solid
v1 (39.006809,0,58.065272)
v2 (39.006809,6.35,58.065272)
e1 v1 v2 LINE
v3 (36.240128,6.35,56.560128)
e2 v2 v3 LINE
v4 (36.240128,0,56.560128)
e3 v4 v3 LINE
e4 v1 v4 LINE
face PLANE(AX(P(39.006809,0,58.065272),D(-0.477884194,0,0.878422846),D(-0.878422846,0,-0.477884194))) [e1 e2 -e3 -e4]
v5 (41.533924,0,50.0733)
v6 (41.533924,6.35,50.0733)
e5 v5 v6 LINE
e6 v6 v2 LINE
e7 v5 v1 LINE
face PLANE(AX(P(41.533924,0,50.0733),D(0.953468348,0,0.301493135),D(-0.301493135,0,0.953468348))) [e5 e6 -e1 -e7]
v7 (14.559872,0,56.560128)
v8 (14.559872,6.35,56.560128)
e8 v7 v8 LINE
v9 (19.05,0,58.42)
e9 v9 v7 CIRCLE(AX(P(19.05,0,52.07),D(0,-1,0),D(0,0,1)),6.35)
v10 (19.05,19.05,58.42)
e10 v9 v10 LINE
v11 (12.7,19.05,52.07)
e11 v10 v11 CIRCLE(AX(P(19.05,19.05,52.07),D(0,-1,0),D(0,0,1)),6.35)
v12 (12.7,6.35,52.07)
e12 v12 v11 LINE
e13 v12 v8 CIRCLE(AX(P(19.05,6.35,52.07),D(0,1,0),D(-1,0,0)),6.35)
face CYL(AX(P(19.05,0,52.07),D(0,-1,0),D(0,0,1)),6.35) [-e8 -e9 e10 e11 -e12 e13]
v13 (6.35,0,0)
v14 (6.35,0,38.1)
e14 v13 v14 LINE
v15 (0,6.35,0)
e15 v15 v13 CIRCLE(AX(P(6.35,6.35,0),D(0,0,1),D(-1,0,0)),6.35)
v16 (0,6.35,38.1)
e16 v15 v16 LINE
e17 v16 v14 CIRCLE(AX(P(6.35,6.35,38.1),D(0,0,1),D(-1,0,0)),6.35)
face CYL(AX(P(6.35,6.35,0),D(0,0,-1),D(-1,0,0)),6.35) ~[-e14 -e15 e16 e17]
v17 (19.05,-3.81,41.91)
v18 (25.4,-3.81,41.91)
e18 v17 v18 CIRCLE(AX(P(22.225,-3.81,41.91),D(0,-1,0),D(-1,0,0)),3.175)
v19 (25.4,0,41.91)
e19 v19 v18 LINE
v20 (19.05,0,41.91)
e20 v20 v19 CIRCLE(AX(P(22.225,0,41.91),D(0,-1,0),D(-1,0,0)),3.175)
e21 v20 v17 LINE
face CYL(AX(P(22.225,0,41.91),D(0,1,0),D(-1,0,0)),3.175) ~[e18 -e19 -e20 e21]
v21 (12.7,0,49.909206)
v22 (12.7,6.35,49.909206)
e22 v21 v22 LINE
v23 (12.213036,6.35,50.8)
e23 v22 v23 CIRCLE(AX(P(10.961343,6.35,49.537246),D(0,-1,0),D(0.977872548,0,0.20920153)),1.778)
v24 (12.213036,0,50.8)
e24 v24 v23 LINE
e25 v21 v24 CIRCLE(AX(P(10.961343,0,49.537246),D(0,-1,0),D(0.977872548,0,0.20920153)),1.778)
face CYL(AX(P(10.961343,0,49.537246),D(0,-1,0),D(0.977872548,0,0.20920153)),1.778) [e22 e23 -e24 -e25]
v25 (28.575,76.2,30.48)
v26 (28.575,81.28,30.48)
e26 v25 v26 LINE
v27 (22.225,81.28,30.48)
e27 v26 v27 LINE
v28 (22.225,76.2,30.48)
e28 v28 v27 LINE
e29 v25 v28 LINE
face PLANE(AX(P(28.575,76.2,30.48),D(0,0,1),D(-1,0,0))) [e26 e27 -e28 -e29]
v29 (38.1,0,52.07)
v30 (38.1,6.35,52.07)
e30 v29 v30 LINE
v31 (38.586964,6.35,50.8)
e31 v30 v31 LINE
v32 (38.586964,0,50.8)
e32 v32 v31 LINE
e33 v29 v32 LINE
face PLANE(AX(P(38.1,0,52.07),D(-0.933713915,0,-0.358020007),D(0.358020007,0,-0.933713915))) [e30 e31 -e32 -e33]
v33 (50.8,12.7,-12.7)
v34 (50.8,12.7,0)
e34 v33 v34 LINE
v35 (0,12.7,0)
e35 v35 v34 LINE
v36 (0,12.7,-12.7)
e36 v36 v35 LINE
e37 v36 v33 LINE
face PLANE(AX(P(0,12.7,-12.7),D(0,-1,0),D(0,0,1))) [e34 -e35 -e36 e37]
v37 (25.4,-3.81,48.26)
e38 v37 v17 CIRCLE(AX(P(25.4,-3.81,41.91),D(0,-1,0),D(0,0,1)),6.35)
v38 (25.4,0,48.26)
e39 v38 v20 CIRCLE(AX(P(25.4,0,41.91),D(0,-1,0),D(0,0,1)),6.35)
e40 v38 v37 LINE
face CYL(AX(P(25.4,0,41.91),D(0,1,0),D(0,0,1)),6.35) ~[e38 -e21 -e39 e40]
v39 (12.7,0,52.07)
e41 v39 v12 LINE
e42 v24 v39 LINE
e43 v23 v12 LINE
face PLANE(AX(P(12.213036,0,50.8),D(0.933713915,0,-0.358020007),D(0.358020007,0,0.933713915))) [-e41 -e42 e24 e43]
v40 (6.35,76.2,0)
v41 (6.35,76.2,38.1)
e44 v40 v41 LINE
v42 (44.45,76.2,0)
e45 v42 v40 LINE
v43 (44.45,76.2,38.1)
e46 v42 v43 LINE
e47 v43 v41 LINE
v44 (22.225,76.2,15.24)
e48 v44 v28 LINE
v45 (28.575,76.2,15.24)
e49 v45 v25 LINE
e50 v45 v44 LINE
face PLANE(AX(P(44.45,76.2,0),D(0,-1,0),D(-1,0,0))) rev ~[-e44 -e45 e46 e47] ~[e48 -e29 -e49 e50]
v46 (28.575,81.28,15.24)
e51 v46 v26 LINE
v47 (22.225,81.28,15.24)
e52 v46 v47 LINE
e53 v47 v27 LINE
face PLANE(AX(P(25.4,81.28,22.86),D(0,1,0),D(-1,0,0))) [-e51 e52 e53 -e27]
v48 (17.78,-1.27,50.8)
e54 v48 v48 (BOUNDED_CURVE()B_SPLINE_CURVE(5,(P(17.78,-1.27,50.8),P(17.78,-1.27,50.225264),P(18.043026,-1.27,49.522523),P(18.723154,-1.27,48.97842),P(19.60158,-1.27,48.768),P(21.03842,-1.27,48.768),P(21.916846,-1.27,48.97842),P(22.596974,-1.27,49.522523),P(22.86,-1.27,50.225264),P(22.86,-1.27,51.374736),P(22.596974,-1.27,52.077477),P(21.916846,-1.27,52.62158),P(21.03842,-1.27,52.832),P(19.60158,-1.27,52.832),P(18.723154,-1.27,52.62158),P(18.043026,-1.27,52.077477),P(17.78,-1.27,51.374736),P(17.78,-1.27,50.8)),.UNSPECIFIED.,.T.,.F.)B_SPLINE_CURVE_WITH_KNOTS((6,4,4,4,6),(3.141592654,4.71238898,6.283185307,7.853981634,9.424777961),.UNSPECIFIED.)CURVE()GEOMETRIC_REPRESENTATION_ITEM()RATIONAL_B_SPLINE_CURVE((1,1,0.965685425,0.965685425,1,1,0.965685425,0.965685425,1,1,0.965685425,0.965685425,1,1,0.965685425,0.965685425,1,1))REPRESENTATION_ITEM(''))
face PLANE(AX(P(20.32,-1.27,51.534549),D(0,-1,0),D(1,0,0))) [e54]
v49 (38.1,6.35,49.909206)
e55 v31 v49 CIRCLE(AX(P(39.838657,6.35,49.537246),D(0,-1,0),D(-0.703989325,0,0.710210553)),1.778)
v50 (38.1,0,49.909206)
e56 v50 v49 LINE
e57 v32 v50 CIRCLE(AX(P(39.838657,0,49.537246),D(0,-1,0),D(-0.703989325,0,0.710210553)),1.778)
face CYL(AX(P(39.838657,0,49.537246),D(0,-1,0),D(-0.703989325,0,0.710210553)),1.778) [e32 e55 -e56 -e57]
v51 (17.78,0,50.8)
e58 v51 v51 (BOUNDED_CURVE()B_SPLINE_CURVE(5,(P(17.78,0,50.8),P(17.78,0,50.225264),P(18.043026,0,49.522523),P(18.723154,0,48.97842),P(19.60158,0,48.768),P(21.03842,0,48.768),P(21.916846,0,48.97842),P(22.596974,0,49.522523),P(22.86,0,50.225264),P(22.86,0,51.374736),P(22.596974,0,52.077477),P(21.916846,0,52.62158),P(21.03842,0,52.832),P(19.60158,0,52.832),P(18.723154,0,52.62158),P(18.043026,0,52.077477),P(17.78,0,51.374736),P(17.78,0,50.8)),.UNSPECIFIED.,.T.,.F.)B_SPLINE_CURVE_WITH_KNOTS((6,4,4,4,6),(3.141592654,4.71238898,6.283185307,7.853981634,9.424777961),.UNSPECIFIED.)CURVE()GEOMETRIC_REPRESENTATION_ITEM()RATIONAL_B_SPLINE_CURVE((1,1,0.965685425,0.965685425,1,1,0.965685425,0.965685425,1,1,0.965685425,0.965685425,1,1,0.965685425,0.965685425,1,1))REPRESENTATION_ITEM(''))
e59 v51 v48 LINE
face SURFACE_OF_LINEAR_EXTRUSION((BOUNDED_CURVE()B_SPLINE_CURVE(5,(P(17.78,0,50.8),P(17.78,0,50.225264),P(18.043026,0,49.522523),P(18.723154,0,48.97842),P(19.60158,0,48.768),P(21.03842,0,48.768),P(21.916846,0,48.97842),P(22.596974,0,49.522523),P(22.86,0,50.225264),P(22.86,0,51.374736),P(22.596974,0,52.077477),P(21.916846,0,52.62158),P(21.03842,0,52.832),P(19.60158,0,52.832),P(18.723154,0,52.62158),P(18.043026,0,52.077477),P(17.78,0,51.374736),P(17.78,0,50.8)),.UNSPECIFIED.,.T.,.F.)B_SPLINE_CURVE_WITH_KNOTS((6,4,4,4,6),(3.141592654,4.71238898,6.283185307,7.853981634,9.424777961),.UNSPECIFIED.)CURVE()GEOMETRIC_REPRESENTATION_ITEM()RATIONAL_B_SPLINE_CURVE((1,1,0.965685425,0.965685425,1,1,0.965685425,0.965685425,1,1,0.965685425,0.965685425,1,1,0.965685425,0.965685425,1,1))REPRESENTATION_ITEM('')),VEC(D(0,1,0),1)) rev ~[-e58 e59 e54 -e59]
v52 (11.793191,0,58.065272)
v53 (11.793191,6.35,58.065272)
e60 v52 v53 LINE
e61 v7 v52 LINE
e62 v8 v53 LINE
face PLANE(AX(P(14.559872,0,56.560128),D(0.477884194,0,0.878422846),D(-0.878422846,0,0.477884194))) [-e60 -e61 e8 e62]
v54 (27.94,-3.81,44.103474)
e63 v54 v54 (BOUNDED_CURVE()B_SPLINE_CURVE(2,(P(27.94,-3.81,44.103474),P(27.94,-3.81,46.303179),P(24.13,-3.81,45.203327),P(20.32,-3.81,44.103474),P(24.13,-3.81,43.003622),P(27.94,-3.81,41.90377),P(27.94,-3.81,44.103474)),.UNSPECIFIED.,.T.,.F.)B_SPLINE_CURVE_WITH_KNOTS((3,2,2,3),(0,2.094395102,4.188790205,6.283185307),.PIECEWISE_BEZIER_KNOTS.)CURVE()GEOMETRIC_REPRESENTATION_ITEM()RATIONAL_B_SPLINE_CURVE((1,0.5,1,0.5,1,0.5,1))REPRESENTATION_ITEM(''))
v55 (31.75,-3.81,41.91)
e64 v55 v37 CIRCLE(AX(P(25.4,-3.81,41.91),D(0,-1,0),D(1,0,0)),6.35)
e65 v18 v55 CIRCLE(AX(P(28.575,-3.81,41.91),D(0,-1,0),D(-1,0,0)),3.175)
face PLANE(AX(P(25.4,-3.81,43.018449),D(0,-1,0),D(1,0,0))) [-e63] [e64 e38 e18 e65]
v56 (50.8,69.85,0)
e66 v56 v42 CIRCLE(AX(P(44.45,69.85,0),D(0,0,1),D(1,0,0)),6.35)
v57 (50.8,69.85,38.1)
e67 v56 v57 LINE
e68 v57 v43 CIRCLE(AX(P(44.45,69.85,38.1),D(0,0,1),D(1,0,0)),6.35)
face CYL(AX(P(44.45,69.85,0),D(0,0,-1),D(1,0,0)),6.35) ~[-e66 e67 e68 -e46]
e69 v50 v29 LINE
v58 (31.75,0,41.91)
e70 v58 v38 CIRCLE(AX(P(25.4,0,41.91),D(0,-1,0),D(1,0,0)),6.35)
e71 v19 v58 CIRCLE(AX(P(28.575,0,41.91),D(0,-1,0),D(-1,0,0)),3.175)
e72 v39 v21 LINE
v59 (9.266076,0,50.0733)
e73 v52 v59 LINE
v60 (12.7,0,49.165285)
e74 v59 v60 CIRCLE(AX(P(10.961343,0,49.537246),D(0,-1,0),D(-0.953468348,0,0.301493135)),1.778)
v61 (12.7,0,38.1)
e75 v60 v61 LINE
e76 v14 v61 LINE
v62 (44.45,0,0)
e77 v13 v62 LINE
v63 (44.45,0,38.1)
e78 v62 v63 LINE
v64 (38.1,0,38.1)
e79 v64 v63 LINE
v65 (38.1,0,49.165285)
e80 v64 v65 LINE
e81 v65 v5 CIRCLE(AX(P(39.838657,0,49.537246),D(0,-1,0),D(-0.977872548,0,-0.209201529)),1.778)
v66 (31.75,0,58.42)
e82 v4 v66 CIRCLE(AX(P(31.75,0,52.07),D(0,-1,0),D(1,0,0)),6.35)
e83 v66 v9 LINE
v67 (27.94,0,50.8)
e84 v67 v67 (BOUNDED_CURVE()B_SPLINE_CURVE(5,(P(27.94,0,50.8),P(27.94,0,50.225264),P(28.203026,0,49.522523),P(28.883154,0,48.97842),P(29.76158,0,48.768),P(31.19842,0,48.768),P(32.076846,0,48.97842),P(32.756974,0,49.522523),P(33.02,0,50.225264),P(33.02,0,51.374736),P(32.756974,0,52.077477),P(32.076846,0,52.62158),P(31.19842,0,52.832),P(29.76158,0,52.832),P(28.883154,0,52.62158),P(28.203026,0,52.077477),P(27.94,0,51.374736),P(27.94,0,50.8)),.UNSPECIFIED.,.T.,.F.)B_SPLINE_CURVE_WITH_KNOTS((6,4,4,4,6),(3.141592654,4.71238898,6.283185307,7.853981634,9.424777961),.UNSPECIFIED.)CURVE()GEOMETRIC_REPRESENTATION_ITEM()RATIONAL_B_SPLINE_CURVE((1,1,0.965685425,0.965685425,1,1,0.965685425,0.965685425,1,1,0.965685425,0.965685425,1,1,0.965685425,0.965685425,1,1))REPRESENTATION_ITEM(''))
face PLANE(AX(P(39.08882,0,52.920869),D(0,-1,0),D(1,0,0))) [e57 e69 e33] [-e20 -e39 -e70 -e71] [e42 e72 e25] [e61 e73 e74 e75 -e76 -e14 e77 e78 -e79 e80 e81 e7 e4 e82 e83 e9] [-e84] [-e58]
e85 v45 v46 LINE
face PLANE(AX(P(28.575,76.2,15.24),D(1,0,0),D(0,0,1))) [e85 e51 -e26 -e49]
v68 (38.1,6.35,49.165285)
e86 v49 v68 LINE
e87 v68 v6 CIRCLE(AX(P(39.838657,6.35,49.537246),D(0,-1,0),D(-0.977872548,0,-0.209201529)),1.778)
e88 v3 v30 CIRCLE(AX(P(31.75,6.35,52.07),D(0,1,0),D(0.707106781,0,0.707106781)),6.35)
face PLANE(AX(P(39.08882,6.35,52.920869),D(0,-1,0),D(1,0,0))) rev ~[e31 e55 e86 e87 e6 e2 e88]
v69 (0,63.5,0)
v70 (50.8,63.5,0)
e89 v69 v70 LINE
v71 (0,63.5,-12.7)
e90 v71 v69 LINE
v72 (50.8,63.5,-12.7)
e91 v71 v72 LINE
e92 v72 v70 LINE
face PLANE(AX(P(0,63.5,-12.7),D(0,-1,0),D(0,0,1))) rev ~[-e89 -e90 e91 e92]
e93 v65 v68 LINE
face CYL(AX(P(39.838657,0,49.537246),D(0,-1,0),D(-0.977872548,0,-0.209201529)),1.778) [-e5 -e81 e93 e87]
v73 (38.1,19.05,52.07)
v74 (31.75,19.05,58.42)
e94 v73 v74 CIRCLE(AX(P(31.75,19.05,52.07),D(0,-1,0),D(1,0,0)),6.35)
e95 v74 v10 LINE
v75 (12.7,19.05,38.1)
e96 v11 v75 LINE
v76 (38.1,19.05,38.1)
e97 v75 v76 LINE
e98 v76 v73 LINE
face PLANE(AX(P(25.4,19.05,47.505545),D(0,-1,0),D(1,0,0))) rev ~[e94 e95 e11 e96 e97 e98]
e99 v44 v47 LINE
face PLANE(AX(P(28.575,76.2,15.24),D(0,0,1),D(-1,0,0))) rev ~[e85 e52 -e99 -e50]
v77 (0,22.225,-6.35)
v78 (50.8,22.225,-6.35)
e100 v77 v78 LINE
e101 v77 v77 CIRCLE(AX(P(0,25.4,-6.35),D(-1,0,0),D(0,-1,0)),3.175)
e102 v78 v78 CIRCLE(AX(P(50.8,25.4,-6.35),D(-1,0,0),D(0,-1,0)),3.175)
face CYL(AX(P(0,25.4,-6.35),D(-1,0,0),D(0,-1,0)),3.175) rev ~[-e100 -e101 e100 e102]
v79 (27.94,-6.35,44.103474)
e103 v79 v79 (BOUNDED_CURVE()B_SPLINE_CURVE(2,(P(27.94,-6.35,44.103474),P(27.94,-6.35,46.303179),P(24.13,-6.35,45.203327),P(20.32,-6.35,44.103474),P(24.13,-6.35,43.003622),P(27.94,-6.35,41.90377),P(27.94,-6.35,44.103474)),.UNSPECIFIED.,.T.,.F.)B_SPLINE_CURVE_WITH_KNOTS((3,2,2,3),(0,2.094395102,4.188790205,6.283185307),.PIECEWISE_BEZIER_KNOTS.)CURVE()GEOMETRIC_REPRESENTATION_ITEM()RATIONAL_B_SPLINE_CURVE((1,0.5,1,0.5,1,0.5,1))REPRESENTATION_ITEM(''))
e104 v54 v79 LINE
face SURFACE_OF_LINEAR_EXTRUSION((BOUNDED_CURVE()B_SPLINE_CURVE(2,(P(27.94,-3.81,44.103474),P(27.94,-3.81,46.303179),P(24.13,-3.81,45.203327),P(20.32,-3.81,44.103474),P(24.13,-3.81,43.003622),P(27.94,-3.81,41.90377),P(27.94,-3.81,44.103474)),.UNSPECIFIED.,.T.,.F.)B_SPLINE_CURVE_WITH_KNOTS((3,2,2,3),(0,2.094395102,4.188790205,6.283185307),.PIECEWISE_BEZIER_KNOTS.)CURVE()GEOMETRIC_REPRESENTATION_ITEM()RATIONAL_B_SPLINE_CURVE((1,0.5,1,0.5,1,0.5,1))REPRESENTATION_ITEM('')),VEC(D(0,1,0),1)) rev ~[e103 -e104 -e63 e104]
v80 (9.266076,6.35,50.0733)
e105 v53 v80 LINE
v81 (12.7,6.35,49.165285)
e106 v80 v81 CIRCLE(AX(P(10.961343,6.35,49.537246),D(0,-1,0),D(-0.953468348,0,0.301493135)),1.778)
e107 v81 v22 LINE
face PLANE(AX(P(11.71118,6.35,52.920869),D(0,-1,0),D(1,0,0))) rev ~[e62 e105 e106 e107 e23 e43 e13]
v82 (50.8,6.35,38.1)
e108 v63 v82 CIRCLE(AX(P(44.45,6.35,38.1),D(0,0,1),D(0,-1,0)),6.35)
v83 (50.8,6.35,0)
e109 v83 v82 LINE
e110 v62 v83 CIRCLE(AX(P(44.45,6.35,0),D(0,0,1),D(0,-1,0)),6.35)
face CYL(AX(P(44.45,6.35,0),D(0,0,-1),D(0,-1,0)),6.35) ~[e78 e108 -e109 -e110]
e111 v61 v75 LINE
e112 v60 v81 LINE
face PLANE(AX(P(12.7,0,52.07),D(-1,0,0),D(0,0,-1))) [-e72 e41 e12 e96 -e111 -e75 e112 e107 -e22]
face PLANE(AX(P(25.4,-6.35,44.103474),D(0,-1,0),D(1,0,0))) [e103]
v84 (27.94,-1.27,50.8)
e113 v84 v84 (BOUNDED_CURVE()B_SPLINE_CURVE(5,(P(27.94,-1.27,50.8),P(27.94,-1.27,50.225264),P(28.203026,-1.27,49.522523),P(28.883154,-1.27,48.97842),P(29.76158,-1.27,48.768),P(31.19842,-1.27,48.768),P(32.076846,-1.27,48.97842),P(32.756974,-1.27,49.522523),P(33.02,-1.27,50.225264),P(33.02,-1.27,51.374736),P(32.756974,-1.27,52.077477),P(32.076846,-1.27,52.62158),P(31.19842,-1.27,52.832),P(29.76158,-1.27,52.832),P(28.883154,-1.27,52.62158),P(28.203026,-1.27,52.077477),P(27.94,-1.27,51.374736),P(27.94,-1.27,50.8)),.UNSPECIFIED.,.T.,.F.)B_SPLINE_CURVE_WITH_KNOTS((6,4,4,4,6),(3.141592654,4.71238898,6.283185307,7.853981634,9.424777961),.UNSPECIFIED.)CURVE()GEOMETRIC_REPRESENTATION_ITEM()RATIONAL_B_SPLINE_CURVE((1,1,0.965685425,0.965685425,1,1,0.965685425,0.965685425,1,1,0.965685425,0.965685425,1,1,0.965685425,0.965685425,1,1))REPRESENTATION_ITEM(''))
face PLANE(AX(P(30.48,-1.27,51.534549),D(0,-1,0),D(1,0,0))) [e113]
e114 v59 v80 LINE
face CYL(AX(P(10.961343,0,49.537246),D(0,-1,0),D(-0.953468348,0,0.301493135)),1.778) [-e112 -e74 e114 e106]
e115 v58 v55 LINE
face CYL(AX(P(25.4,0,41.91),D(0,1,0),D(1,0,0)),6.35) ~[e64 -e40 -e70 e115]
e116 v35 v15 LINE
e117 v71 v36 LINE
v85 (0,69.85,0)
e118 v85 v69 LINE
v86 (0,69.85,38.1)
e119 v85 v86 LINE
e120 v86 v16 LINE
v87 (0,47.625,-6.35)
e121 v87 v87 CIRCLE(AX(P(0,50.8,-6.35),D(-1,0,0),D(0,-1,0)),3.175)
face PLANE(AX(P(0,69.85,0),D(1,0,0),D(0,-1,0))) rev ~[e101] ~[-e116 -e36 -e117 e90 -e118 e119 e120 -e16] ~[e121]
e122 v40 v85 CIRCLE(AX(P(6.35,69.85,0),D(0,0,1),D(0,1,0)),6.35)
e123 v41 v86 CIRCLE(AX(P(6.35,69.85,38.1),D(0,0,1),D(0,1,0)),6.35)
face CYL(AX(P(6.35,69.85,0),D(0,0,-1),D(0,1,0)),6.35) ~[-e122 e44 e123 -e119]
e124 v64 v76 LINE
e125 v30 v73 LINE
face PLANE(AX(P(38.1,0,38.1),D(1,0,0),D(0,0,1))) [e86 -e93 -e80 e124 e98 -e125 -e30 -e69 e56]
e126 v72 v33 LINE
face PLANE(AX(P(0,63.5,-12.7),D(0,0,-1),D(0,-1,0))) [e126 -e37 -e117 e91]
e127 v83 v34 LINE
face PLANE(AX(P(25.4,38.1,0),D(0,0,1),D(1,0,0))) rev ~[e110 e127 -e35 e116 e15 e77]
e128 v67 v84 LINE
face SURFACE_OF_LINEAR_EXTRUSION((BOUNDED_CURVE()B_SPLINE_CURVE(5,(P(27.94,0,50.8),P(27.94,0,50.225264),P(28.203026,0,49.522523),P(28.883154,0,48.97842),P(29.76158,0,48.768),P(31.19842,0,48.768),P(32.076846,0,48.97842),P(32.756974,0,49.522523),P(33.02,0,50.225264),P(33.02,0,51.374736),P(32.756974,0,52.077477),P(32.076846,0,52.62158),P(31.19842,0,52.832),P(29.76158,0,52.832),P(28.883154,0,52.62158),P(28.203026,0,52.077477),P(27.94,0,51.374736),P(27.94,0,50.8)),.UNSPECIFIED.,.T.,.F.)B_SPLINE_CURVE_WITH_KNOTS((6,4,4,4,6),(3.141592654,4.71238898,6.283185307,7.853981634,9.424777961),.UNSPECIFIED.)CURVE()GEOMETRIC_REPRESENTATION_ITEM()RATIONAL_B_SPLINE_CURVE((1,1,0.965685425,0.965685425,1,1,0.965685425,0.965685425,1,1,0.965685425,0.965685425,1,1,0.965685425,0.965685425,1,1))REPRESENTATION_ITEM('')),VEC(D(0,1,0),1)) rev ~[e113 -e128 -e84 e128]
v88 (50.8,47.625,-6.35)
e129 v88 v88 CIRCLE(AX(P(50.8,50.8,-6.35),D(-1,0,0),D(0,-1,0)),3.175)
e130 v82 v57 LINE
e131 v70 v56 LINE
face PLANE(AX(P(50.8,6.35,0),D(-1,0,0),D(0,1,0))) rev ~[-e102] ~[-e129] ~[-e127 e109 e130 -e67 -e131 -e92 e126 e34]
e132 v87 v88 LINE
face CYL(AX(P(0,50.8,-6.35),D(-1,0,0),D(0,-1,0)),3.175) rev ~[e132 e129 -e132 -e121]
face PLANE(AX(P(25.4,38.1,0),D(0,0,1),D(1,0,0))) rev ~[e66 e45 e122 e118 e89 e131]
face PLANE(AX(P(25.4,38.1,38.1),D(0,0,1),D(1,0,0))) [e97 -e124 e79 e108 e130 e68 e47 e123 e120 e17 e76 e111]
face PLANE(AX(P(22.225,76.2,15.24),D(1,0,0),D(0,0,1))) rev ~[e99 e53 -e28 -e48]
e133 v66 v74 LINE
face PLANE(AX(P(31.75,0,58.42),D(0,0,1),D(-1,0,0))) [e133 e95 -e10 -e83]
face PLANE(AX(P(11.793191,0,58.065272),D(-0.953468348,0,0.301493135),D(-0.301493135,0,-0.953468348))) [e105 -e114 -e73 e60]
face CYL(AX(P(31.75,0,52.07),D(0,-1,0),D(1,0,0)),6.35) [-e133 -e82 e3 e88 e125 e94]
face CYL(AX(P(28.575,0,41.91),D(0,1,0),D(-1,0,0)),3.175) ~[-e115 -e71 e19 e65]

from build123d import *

# Parameters (mm, degrees)
F1_DEPTH  = 38.1
F3_W      = 50.8
F3_H      = 12.7
F3_R      = 3.175
F4_DEPTH  = 50.8
F6_DEPTH  = 19.05
F7_DEPTH  = 3.81
F9_DEPTH  = 2.54
F11_DEPTH = 6.35
F12_DEPTH = 1.27
F13_W     = 6.35
F13_H     = 15.24
F14_DEPTH = 5.08


with BuildPart() as f1:
    # F0 (on Top) → F1 (new body)
    with BuildSketch(Plane.XY):
        with BuildLine():
            Line((0, 69.85), (0, 6.35))
            ThreePointArc((0, 6.35), (1.8598719395, 1.8598719395), (6.35, 0))
            Line((6.35, 0), (44.45, 0))
            ThreePointArc((44.45, 0), (48.9401280605, 1.8598719395), (50.8, 6.35))
            Line((50.8, 6.35), (50.8, 69.85))
            ThreePointArc((50.8, 69.85), (48.9401280605, 74.3401280605), (44.45, 76.2))
            Line((44.45, 76.2), (6.35, 76.2))
            ThreePointArc((6.35, 76.2), (1.8598719395, 74.3401280605), (0, 69.85))
        make_face()
    extrude(amount=F1_DEPTH)

    # F3 (on face) → F4 (join, through all)
    with BuildSketch(Plane(origin=(0, 0, 0), x_dir=(0, -1, 0), z_dir=(-1, 0, 0))):
        with Locations((-38.1, -6.35)):
            Rectangle(F3_W, F3_H)
        with Locations((-50.8, -6.35)):
            Circle(F3_R, mode=Mode.SUBTRACT)
        with Locations((-25.4, -6.35)):
            Circle(F3_R, mode=Mode.SUBTRACT)
    extrude(amount=-F4_DEPTH)

    # F5 (on face) → F6 (join)
    with BuildSketch(Plane.XZ):
        with BuildLine():
            Line((12.7, 52.07), (12.7, 38.1))
            Line((12.7, 38.1), (38.1, 38.1))
            Line((38.1, 38.1), (38.1, 52.07))
            ThreePointArc((38.1, 52.07), (36.2401280605, 56.5601280605), (31.75, 58.42))
            Line((31.75, 58.42), (19.05, 58.42))
            ThreePointArc((19.05, 58.42), (14.5598719395, 56.5601280605), (12.7, 52.07))
        make_face()
        with BuildLine():
            ThreePointArc((19.05, 41.91), (20.9098719395, 46.4001280605), (25.4, 48.26))
            ThreePointArc((25.4, 48.26), (29.8901280605, 46.4001280605), (31.75, 41.91))
            ThreePointArc((31.75, 41.91), (28.575, 38.735), (25.4, 41.91))
            ThreePointArc((25.4, 41.91), (22.225, 38.735), (19.05, 41.91))
        make_face(mode=Mode.SUBTRACT)
        with BuildLine():
            ThreePointArc((31.75, 41.91), (29.8901280605, 46.4001280605), (25.4, 48.26))
            ThreePointArc((25.4, 48.26), (20.9098719395, 46.4001280605), (19.05, 41.91))
            ThreePointArc((19.05, 41.91), (22.225, 38.735), (25.4, 41.91))
            ThreePointArc((25.4, 41.91), (28.575, 38.735), (31.75, 41.91))
        make_face()
    extrude(amount=-F6_DEPTH)

    # F5 (on face) → F7 (join)
    with BuildSketch(Plane.XZ):
        with BuildLine():
            ThreePointArc((31.75, 41.91), (29.8901280605, 46.4001280605), (25.4, 48.26))
            ThreePointArc((25.4, 48.26), (20.9098719395, 46.4001280605), (19.05, 41.91))
            ThreePointArc((19.05, 41.91), (22.225, 38.735), (25.4, 41.91))
            ThreePointArc((25.4, 41.91), (28.575, 38.735), (31.75, 41.91))
        make_face()
    extrude(amount=F7_DEPTH)

    # F8 (on face) → F9 (join)
    with BuildSketch(Plane.XZ.offset(3.81)):
        with BuildLine():
            add(Edge.make_bspline(
                [(27.94, 44.1034744838), (27.94, 46.3031790094), (24.13, 45.2033267466), (20.32, 44.1034744838), (24.13, 43.003622221), (27.94, 41.9037699582), (27.94, 44.1034744838)],
                knots=[0, 0, 0, 2.0943951024, 2.0943951024, 4.1887902048, 4.1887902048, 6.2831853072, 6.2831853072, 6.2831853072], degree=2, weights=[1, 0.5, 1, 0.5, 1, 0.5, 1]))
        make_face()
    extrude(amount=F9_DEPTH)

    # F10 (on face) → F11 (join)
    with BuildSketch(Plane.XZ):
        with BuildLine():
            Line((17.78, 50.8), (22.86, 50.8))
            add(Edge.make_bspline(
                [(22.86, 50.8), (22.86, 52.832), (20.32, 52.832), (17.78, 52.832), (17.78, 50.8)],
                knots=[0, 0, 0, 1.5707963268, 1.5707963268, 3.1415926536, 3.1415926536, 3.1415926536], degree=2, weights=[1, 0.7071067812, 1, 0.7071067812, 1]))
        make_face()
        with BuildLine():
            add(Edge.make_bspline(
                [(17.78, 50.8), (17.78, 48.768), (20.32, 48.768), (22.86, 48.768), (22.86, 50.8)],
                knots=[3.1415926536, 3.1415926536, 3.1415926536, 4.7123889804, 4.7123889804, 6.2831853072, 6.2831853072, 6.2831853072], degree=2, weights=[1, 0.7071067812, 1, 0.7071067812, 1]))
            Line((22.86, 50.8), (17.78, 50.8))
        make_face()
        with BuildLine():
            add(Edge.make_bspline(
                [(27.94, 50.8), (27.94, 48.768), (30.48, 48.768), (33.02, 48.768), (33.02, 50.8)],
                knots=[3.1415926536, 3.1415926536, 3.1415926536, 4.7123889804, 4.7123889804, 6.2831853072, 6.2831853072, 6.2831853072], degree=2, weights=[1, 0.7071067812, 1, 0.7071067812, 1]))
            Line((33.02, 50.8), (27.94, 50.8))
        make_face()
        with BuildLine():
            Line((27.94, 50.8), (33.02, 50.8))
            add(Edge.make_bspline(
                [(33.02, 50.8), (33.02, 52.832), (30.48, 52.832), (27.94, 52.832), (27.94, 50.8)],
                knots=[0, 0, 0, 1.5707963268, 1.5707963268, 3.1415926536, 3.1415926536, 3.1415926536], degree=2, weights=[1, 0.7071067812, 1, 0.7071067812, 1]))
        make_face()
        with BuildLine():
            ThreePointArc((36.2401280605, 56.5601280605), (37.6166350314, 54.5000397955), (38.1, 52.07))
            Line((38.1, 52.07), (38.5869643704, 50.8))
            ThreePointArc((38.5869643704, 50.8), (38.2785524575, 50.3900976738), (38.1, 49.9092059552))
            Line((38.1, 49.9092059552), (38.1, 49.1652853166))
            ThreePointArc((38.1, 49.1652853166), (40.2931830208, 47.8183243314), (41.5339241122, 50.0733004294))
            Line((41.5339241122, 50.0733004294), (39.0068086574, 58.0652721184))
            Line((39.0068086574, 58.0652721184), (36.2401280605, 56.5601280605))
        make_face()
        with BuildLine():
            Line((12.2130356296, 50.8), (12.7, 52.07))
            ThreePointArc((12.7, 52.07), (13.1833649686, 54.5000397955), (14.5598719395, 56.5601280605))
            Line((14.5598719395, 56.5601280605), (11.7931913426, 58.0652721184))
            Line((11.7931913426, 58.0652721184), (9.2660758878, 50.0733004294))
            ThreePointArc((9.2660758878, 50.0733004294), (10.5068169792, 47.8183243314), (12.7, 49.1652853166))
            Line((12.7, 49.1652853166), (12.7, 49.9092059552))
            ThreePointArc((12.7, 49.9092059552), (12.5214475425, 50.3900976738), (12.2130356296, 50.8))
        make_face()
    extrude(amount=-F11_DEPTH)

    # F10 (on face) → F12 (join)
    with BuildSketch(Plane.XZ):
        with BuildLine():
            Line((17.78, 50.8), (22.86, 50.8))
            add(Edge.make_bspline(
                [(22.86, 50.8), (22.86, 52.832), (20.32, 52.832), (17.78, 52.832), (17.78, 50.8)],
                knots=[0, 0, 0, 1.5707963268, 1.5707963268, 3.1415926536, 3.1415926536, 3.1415926536], degree=2, weights=[1, 0.7071067812, 1, 0.7071067812, 1]))
        make_face()
        with BuildLine():
            add(Edge.make_bspline(
                [(17.78, 50.8), (17.78, 48.768), (20.32, 48.768), (22.86, 48.768), (22.86, 50.8)],
                knots=[3.1415926536, 3.1415926536, 3.1415926536, 4.7123889804, 4.7123889804, 6.2831853072, 6.2831853072, 6.2831853072], degree=2, weights=[1, 0.7071067812, 1, 0.7071067812, 1]))
            Line((22.86, 50.8), (17.78, 50.8))
        make_face()
        with BuildLine():
            Line((27.94, 50.8), (33.02, 50.8))
            add(Edge.make_bspline(
                [(33.02, 50.8), (33.02, 52.832), (30.48, 52.832), (27.94, 52.832), (27.94, 50.8)],
                knots=[0, 0, 0, 1.5707963268, 1.5707963268, 3.1415926536, 3.1415926536, 3.1415926536], degree=2, weights=[1, 0.7071067812, 1, 0.7071067812, 1]))
        make_face()
        with BuildLine():
            add(Edge.make_bspline(
                [(27.94, 50.8), (27.94, 48.768), (30.48, 48.768), (33.02, 48.768), (33.02, 50.8)],
                knots=[3.1415926536, 3.1415926536, 3.1415926536, 4.7123889804, 4.7123889804, 6.2831853072, 6.2831853072, 6.2831853072], degree=2, weights=[1, 0.7071067812, 1, 0.7071067812, 1]))
            Line((33.02, 50.8), (27.94, 50.8))
        make_face()
    extrude(amount=F12_DEPTH)

    # F13 (on face) → F14 (join)
    with BuildSketch(Plane(origin=(0, 76.2, 0), x_dir=(-1, 0, 0), z_dir=(0, 1, 0))):
        with Locations((-25.4, 22.86)):
            Rectangle(F13_W, F13_H)
    extrude(amount=F14_DEPTH)


solid = f1.part
